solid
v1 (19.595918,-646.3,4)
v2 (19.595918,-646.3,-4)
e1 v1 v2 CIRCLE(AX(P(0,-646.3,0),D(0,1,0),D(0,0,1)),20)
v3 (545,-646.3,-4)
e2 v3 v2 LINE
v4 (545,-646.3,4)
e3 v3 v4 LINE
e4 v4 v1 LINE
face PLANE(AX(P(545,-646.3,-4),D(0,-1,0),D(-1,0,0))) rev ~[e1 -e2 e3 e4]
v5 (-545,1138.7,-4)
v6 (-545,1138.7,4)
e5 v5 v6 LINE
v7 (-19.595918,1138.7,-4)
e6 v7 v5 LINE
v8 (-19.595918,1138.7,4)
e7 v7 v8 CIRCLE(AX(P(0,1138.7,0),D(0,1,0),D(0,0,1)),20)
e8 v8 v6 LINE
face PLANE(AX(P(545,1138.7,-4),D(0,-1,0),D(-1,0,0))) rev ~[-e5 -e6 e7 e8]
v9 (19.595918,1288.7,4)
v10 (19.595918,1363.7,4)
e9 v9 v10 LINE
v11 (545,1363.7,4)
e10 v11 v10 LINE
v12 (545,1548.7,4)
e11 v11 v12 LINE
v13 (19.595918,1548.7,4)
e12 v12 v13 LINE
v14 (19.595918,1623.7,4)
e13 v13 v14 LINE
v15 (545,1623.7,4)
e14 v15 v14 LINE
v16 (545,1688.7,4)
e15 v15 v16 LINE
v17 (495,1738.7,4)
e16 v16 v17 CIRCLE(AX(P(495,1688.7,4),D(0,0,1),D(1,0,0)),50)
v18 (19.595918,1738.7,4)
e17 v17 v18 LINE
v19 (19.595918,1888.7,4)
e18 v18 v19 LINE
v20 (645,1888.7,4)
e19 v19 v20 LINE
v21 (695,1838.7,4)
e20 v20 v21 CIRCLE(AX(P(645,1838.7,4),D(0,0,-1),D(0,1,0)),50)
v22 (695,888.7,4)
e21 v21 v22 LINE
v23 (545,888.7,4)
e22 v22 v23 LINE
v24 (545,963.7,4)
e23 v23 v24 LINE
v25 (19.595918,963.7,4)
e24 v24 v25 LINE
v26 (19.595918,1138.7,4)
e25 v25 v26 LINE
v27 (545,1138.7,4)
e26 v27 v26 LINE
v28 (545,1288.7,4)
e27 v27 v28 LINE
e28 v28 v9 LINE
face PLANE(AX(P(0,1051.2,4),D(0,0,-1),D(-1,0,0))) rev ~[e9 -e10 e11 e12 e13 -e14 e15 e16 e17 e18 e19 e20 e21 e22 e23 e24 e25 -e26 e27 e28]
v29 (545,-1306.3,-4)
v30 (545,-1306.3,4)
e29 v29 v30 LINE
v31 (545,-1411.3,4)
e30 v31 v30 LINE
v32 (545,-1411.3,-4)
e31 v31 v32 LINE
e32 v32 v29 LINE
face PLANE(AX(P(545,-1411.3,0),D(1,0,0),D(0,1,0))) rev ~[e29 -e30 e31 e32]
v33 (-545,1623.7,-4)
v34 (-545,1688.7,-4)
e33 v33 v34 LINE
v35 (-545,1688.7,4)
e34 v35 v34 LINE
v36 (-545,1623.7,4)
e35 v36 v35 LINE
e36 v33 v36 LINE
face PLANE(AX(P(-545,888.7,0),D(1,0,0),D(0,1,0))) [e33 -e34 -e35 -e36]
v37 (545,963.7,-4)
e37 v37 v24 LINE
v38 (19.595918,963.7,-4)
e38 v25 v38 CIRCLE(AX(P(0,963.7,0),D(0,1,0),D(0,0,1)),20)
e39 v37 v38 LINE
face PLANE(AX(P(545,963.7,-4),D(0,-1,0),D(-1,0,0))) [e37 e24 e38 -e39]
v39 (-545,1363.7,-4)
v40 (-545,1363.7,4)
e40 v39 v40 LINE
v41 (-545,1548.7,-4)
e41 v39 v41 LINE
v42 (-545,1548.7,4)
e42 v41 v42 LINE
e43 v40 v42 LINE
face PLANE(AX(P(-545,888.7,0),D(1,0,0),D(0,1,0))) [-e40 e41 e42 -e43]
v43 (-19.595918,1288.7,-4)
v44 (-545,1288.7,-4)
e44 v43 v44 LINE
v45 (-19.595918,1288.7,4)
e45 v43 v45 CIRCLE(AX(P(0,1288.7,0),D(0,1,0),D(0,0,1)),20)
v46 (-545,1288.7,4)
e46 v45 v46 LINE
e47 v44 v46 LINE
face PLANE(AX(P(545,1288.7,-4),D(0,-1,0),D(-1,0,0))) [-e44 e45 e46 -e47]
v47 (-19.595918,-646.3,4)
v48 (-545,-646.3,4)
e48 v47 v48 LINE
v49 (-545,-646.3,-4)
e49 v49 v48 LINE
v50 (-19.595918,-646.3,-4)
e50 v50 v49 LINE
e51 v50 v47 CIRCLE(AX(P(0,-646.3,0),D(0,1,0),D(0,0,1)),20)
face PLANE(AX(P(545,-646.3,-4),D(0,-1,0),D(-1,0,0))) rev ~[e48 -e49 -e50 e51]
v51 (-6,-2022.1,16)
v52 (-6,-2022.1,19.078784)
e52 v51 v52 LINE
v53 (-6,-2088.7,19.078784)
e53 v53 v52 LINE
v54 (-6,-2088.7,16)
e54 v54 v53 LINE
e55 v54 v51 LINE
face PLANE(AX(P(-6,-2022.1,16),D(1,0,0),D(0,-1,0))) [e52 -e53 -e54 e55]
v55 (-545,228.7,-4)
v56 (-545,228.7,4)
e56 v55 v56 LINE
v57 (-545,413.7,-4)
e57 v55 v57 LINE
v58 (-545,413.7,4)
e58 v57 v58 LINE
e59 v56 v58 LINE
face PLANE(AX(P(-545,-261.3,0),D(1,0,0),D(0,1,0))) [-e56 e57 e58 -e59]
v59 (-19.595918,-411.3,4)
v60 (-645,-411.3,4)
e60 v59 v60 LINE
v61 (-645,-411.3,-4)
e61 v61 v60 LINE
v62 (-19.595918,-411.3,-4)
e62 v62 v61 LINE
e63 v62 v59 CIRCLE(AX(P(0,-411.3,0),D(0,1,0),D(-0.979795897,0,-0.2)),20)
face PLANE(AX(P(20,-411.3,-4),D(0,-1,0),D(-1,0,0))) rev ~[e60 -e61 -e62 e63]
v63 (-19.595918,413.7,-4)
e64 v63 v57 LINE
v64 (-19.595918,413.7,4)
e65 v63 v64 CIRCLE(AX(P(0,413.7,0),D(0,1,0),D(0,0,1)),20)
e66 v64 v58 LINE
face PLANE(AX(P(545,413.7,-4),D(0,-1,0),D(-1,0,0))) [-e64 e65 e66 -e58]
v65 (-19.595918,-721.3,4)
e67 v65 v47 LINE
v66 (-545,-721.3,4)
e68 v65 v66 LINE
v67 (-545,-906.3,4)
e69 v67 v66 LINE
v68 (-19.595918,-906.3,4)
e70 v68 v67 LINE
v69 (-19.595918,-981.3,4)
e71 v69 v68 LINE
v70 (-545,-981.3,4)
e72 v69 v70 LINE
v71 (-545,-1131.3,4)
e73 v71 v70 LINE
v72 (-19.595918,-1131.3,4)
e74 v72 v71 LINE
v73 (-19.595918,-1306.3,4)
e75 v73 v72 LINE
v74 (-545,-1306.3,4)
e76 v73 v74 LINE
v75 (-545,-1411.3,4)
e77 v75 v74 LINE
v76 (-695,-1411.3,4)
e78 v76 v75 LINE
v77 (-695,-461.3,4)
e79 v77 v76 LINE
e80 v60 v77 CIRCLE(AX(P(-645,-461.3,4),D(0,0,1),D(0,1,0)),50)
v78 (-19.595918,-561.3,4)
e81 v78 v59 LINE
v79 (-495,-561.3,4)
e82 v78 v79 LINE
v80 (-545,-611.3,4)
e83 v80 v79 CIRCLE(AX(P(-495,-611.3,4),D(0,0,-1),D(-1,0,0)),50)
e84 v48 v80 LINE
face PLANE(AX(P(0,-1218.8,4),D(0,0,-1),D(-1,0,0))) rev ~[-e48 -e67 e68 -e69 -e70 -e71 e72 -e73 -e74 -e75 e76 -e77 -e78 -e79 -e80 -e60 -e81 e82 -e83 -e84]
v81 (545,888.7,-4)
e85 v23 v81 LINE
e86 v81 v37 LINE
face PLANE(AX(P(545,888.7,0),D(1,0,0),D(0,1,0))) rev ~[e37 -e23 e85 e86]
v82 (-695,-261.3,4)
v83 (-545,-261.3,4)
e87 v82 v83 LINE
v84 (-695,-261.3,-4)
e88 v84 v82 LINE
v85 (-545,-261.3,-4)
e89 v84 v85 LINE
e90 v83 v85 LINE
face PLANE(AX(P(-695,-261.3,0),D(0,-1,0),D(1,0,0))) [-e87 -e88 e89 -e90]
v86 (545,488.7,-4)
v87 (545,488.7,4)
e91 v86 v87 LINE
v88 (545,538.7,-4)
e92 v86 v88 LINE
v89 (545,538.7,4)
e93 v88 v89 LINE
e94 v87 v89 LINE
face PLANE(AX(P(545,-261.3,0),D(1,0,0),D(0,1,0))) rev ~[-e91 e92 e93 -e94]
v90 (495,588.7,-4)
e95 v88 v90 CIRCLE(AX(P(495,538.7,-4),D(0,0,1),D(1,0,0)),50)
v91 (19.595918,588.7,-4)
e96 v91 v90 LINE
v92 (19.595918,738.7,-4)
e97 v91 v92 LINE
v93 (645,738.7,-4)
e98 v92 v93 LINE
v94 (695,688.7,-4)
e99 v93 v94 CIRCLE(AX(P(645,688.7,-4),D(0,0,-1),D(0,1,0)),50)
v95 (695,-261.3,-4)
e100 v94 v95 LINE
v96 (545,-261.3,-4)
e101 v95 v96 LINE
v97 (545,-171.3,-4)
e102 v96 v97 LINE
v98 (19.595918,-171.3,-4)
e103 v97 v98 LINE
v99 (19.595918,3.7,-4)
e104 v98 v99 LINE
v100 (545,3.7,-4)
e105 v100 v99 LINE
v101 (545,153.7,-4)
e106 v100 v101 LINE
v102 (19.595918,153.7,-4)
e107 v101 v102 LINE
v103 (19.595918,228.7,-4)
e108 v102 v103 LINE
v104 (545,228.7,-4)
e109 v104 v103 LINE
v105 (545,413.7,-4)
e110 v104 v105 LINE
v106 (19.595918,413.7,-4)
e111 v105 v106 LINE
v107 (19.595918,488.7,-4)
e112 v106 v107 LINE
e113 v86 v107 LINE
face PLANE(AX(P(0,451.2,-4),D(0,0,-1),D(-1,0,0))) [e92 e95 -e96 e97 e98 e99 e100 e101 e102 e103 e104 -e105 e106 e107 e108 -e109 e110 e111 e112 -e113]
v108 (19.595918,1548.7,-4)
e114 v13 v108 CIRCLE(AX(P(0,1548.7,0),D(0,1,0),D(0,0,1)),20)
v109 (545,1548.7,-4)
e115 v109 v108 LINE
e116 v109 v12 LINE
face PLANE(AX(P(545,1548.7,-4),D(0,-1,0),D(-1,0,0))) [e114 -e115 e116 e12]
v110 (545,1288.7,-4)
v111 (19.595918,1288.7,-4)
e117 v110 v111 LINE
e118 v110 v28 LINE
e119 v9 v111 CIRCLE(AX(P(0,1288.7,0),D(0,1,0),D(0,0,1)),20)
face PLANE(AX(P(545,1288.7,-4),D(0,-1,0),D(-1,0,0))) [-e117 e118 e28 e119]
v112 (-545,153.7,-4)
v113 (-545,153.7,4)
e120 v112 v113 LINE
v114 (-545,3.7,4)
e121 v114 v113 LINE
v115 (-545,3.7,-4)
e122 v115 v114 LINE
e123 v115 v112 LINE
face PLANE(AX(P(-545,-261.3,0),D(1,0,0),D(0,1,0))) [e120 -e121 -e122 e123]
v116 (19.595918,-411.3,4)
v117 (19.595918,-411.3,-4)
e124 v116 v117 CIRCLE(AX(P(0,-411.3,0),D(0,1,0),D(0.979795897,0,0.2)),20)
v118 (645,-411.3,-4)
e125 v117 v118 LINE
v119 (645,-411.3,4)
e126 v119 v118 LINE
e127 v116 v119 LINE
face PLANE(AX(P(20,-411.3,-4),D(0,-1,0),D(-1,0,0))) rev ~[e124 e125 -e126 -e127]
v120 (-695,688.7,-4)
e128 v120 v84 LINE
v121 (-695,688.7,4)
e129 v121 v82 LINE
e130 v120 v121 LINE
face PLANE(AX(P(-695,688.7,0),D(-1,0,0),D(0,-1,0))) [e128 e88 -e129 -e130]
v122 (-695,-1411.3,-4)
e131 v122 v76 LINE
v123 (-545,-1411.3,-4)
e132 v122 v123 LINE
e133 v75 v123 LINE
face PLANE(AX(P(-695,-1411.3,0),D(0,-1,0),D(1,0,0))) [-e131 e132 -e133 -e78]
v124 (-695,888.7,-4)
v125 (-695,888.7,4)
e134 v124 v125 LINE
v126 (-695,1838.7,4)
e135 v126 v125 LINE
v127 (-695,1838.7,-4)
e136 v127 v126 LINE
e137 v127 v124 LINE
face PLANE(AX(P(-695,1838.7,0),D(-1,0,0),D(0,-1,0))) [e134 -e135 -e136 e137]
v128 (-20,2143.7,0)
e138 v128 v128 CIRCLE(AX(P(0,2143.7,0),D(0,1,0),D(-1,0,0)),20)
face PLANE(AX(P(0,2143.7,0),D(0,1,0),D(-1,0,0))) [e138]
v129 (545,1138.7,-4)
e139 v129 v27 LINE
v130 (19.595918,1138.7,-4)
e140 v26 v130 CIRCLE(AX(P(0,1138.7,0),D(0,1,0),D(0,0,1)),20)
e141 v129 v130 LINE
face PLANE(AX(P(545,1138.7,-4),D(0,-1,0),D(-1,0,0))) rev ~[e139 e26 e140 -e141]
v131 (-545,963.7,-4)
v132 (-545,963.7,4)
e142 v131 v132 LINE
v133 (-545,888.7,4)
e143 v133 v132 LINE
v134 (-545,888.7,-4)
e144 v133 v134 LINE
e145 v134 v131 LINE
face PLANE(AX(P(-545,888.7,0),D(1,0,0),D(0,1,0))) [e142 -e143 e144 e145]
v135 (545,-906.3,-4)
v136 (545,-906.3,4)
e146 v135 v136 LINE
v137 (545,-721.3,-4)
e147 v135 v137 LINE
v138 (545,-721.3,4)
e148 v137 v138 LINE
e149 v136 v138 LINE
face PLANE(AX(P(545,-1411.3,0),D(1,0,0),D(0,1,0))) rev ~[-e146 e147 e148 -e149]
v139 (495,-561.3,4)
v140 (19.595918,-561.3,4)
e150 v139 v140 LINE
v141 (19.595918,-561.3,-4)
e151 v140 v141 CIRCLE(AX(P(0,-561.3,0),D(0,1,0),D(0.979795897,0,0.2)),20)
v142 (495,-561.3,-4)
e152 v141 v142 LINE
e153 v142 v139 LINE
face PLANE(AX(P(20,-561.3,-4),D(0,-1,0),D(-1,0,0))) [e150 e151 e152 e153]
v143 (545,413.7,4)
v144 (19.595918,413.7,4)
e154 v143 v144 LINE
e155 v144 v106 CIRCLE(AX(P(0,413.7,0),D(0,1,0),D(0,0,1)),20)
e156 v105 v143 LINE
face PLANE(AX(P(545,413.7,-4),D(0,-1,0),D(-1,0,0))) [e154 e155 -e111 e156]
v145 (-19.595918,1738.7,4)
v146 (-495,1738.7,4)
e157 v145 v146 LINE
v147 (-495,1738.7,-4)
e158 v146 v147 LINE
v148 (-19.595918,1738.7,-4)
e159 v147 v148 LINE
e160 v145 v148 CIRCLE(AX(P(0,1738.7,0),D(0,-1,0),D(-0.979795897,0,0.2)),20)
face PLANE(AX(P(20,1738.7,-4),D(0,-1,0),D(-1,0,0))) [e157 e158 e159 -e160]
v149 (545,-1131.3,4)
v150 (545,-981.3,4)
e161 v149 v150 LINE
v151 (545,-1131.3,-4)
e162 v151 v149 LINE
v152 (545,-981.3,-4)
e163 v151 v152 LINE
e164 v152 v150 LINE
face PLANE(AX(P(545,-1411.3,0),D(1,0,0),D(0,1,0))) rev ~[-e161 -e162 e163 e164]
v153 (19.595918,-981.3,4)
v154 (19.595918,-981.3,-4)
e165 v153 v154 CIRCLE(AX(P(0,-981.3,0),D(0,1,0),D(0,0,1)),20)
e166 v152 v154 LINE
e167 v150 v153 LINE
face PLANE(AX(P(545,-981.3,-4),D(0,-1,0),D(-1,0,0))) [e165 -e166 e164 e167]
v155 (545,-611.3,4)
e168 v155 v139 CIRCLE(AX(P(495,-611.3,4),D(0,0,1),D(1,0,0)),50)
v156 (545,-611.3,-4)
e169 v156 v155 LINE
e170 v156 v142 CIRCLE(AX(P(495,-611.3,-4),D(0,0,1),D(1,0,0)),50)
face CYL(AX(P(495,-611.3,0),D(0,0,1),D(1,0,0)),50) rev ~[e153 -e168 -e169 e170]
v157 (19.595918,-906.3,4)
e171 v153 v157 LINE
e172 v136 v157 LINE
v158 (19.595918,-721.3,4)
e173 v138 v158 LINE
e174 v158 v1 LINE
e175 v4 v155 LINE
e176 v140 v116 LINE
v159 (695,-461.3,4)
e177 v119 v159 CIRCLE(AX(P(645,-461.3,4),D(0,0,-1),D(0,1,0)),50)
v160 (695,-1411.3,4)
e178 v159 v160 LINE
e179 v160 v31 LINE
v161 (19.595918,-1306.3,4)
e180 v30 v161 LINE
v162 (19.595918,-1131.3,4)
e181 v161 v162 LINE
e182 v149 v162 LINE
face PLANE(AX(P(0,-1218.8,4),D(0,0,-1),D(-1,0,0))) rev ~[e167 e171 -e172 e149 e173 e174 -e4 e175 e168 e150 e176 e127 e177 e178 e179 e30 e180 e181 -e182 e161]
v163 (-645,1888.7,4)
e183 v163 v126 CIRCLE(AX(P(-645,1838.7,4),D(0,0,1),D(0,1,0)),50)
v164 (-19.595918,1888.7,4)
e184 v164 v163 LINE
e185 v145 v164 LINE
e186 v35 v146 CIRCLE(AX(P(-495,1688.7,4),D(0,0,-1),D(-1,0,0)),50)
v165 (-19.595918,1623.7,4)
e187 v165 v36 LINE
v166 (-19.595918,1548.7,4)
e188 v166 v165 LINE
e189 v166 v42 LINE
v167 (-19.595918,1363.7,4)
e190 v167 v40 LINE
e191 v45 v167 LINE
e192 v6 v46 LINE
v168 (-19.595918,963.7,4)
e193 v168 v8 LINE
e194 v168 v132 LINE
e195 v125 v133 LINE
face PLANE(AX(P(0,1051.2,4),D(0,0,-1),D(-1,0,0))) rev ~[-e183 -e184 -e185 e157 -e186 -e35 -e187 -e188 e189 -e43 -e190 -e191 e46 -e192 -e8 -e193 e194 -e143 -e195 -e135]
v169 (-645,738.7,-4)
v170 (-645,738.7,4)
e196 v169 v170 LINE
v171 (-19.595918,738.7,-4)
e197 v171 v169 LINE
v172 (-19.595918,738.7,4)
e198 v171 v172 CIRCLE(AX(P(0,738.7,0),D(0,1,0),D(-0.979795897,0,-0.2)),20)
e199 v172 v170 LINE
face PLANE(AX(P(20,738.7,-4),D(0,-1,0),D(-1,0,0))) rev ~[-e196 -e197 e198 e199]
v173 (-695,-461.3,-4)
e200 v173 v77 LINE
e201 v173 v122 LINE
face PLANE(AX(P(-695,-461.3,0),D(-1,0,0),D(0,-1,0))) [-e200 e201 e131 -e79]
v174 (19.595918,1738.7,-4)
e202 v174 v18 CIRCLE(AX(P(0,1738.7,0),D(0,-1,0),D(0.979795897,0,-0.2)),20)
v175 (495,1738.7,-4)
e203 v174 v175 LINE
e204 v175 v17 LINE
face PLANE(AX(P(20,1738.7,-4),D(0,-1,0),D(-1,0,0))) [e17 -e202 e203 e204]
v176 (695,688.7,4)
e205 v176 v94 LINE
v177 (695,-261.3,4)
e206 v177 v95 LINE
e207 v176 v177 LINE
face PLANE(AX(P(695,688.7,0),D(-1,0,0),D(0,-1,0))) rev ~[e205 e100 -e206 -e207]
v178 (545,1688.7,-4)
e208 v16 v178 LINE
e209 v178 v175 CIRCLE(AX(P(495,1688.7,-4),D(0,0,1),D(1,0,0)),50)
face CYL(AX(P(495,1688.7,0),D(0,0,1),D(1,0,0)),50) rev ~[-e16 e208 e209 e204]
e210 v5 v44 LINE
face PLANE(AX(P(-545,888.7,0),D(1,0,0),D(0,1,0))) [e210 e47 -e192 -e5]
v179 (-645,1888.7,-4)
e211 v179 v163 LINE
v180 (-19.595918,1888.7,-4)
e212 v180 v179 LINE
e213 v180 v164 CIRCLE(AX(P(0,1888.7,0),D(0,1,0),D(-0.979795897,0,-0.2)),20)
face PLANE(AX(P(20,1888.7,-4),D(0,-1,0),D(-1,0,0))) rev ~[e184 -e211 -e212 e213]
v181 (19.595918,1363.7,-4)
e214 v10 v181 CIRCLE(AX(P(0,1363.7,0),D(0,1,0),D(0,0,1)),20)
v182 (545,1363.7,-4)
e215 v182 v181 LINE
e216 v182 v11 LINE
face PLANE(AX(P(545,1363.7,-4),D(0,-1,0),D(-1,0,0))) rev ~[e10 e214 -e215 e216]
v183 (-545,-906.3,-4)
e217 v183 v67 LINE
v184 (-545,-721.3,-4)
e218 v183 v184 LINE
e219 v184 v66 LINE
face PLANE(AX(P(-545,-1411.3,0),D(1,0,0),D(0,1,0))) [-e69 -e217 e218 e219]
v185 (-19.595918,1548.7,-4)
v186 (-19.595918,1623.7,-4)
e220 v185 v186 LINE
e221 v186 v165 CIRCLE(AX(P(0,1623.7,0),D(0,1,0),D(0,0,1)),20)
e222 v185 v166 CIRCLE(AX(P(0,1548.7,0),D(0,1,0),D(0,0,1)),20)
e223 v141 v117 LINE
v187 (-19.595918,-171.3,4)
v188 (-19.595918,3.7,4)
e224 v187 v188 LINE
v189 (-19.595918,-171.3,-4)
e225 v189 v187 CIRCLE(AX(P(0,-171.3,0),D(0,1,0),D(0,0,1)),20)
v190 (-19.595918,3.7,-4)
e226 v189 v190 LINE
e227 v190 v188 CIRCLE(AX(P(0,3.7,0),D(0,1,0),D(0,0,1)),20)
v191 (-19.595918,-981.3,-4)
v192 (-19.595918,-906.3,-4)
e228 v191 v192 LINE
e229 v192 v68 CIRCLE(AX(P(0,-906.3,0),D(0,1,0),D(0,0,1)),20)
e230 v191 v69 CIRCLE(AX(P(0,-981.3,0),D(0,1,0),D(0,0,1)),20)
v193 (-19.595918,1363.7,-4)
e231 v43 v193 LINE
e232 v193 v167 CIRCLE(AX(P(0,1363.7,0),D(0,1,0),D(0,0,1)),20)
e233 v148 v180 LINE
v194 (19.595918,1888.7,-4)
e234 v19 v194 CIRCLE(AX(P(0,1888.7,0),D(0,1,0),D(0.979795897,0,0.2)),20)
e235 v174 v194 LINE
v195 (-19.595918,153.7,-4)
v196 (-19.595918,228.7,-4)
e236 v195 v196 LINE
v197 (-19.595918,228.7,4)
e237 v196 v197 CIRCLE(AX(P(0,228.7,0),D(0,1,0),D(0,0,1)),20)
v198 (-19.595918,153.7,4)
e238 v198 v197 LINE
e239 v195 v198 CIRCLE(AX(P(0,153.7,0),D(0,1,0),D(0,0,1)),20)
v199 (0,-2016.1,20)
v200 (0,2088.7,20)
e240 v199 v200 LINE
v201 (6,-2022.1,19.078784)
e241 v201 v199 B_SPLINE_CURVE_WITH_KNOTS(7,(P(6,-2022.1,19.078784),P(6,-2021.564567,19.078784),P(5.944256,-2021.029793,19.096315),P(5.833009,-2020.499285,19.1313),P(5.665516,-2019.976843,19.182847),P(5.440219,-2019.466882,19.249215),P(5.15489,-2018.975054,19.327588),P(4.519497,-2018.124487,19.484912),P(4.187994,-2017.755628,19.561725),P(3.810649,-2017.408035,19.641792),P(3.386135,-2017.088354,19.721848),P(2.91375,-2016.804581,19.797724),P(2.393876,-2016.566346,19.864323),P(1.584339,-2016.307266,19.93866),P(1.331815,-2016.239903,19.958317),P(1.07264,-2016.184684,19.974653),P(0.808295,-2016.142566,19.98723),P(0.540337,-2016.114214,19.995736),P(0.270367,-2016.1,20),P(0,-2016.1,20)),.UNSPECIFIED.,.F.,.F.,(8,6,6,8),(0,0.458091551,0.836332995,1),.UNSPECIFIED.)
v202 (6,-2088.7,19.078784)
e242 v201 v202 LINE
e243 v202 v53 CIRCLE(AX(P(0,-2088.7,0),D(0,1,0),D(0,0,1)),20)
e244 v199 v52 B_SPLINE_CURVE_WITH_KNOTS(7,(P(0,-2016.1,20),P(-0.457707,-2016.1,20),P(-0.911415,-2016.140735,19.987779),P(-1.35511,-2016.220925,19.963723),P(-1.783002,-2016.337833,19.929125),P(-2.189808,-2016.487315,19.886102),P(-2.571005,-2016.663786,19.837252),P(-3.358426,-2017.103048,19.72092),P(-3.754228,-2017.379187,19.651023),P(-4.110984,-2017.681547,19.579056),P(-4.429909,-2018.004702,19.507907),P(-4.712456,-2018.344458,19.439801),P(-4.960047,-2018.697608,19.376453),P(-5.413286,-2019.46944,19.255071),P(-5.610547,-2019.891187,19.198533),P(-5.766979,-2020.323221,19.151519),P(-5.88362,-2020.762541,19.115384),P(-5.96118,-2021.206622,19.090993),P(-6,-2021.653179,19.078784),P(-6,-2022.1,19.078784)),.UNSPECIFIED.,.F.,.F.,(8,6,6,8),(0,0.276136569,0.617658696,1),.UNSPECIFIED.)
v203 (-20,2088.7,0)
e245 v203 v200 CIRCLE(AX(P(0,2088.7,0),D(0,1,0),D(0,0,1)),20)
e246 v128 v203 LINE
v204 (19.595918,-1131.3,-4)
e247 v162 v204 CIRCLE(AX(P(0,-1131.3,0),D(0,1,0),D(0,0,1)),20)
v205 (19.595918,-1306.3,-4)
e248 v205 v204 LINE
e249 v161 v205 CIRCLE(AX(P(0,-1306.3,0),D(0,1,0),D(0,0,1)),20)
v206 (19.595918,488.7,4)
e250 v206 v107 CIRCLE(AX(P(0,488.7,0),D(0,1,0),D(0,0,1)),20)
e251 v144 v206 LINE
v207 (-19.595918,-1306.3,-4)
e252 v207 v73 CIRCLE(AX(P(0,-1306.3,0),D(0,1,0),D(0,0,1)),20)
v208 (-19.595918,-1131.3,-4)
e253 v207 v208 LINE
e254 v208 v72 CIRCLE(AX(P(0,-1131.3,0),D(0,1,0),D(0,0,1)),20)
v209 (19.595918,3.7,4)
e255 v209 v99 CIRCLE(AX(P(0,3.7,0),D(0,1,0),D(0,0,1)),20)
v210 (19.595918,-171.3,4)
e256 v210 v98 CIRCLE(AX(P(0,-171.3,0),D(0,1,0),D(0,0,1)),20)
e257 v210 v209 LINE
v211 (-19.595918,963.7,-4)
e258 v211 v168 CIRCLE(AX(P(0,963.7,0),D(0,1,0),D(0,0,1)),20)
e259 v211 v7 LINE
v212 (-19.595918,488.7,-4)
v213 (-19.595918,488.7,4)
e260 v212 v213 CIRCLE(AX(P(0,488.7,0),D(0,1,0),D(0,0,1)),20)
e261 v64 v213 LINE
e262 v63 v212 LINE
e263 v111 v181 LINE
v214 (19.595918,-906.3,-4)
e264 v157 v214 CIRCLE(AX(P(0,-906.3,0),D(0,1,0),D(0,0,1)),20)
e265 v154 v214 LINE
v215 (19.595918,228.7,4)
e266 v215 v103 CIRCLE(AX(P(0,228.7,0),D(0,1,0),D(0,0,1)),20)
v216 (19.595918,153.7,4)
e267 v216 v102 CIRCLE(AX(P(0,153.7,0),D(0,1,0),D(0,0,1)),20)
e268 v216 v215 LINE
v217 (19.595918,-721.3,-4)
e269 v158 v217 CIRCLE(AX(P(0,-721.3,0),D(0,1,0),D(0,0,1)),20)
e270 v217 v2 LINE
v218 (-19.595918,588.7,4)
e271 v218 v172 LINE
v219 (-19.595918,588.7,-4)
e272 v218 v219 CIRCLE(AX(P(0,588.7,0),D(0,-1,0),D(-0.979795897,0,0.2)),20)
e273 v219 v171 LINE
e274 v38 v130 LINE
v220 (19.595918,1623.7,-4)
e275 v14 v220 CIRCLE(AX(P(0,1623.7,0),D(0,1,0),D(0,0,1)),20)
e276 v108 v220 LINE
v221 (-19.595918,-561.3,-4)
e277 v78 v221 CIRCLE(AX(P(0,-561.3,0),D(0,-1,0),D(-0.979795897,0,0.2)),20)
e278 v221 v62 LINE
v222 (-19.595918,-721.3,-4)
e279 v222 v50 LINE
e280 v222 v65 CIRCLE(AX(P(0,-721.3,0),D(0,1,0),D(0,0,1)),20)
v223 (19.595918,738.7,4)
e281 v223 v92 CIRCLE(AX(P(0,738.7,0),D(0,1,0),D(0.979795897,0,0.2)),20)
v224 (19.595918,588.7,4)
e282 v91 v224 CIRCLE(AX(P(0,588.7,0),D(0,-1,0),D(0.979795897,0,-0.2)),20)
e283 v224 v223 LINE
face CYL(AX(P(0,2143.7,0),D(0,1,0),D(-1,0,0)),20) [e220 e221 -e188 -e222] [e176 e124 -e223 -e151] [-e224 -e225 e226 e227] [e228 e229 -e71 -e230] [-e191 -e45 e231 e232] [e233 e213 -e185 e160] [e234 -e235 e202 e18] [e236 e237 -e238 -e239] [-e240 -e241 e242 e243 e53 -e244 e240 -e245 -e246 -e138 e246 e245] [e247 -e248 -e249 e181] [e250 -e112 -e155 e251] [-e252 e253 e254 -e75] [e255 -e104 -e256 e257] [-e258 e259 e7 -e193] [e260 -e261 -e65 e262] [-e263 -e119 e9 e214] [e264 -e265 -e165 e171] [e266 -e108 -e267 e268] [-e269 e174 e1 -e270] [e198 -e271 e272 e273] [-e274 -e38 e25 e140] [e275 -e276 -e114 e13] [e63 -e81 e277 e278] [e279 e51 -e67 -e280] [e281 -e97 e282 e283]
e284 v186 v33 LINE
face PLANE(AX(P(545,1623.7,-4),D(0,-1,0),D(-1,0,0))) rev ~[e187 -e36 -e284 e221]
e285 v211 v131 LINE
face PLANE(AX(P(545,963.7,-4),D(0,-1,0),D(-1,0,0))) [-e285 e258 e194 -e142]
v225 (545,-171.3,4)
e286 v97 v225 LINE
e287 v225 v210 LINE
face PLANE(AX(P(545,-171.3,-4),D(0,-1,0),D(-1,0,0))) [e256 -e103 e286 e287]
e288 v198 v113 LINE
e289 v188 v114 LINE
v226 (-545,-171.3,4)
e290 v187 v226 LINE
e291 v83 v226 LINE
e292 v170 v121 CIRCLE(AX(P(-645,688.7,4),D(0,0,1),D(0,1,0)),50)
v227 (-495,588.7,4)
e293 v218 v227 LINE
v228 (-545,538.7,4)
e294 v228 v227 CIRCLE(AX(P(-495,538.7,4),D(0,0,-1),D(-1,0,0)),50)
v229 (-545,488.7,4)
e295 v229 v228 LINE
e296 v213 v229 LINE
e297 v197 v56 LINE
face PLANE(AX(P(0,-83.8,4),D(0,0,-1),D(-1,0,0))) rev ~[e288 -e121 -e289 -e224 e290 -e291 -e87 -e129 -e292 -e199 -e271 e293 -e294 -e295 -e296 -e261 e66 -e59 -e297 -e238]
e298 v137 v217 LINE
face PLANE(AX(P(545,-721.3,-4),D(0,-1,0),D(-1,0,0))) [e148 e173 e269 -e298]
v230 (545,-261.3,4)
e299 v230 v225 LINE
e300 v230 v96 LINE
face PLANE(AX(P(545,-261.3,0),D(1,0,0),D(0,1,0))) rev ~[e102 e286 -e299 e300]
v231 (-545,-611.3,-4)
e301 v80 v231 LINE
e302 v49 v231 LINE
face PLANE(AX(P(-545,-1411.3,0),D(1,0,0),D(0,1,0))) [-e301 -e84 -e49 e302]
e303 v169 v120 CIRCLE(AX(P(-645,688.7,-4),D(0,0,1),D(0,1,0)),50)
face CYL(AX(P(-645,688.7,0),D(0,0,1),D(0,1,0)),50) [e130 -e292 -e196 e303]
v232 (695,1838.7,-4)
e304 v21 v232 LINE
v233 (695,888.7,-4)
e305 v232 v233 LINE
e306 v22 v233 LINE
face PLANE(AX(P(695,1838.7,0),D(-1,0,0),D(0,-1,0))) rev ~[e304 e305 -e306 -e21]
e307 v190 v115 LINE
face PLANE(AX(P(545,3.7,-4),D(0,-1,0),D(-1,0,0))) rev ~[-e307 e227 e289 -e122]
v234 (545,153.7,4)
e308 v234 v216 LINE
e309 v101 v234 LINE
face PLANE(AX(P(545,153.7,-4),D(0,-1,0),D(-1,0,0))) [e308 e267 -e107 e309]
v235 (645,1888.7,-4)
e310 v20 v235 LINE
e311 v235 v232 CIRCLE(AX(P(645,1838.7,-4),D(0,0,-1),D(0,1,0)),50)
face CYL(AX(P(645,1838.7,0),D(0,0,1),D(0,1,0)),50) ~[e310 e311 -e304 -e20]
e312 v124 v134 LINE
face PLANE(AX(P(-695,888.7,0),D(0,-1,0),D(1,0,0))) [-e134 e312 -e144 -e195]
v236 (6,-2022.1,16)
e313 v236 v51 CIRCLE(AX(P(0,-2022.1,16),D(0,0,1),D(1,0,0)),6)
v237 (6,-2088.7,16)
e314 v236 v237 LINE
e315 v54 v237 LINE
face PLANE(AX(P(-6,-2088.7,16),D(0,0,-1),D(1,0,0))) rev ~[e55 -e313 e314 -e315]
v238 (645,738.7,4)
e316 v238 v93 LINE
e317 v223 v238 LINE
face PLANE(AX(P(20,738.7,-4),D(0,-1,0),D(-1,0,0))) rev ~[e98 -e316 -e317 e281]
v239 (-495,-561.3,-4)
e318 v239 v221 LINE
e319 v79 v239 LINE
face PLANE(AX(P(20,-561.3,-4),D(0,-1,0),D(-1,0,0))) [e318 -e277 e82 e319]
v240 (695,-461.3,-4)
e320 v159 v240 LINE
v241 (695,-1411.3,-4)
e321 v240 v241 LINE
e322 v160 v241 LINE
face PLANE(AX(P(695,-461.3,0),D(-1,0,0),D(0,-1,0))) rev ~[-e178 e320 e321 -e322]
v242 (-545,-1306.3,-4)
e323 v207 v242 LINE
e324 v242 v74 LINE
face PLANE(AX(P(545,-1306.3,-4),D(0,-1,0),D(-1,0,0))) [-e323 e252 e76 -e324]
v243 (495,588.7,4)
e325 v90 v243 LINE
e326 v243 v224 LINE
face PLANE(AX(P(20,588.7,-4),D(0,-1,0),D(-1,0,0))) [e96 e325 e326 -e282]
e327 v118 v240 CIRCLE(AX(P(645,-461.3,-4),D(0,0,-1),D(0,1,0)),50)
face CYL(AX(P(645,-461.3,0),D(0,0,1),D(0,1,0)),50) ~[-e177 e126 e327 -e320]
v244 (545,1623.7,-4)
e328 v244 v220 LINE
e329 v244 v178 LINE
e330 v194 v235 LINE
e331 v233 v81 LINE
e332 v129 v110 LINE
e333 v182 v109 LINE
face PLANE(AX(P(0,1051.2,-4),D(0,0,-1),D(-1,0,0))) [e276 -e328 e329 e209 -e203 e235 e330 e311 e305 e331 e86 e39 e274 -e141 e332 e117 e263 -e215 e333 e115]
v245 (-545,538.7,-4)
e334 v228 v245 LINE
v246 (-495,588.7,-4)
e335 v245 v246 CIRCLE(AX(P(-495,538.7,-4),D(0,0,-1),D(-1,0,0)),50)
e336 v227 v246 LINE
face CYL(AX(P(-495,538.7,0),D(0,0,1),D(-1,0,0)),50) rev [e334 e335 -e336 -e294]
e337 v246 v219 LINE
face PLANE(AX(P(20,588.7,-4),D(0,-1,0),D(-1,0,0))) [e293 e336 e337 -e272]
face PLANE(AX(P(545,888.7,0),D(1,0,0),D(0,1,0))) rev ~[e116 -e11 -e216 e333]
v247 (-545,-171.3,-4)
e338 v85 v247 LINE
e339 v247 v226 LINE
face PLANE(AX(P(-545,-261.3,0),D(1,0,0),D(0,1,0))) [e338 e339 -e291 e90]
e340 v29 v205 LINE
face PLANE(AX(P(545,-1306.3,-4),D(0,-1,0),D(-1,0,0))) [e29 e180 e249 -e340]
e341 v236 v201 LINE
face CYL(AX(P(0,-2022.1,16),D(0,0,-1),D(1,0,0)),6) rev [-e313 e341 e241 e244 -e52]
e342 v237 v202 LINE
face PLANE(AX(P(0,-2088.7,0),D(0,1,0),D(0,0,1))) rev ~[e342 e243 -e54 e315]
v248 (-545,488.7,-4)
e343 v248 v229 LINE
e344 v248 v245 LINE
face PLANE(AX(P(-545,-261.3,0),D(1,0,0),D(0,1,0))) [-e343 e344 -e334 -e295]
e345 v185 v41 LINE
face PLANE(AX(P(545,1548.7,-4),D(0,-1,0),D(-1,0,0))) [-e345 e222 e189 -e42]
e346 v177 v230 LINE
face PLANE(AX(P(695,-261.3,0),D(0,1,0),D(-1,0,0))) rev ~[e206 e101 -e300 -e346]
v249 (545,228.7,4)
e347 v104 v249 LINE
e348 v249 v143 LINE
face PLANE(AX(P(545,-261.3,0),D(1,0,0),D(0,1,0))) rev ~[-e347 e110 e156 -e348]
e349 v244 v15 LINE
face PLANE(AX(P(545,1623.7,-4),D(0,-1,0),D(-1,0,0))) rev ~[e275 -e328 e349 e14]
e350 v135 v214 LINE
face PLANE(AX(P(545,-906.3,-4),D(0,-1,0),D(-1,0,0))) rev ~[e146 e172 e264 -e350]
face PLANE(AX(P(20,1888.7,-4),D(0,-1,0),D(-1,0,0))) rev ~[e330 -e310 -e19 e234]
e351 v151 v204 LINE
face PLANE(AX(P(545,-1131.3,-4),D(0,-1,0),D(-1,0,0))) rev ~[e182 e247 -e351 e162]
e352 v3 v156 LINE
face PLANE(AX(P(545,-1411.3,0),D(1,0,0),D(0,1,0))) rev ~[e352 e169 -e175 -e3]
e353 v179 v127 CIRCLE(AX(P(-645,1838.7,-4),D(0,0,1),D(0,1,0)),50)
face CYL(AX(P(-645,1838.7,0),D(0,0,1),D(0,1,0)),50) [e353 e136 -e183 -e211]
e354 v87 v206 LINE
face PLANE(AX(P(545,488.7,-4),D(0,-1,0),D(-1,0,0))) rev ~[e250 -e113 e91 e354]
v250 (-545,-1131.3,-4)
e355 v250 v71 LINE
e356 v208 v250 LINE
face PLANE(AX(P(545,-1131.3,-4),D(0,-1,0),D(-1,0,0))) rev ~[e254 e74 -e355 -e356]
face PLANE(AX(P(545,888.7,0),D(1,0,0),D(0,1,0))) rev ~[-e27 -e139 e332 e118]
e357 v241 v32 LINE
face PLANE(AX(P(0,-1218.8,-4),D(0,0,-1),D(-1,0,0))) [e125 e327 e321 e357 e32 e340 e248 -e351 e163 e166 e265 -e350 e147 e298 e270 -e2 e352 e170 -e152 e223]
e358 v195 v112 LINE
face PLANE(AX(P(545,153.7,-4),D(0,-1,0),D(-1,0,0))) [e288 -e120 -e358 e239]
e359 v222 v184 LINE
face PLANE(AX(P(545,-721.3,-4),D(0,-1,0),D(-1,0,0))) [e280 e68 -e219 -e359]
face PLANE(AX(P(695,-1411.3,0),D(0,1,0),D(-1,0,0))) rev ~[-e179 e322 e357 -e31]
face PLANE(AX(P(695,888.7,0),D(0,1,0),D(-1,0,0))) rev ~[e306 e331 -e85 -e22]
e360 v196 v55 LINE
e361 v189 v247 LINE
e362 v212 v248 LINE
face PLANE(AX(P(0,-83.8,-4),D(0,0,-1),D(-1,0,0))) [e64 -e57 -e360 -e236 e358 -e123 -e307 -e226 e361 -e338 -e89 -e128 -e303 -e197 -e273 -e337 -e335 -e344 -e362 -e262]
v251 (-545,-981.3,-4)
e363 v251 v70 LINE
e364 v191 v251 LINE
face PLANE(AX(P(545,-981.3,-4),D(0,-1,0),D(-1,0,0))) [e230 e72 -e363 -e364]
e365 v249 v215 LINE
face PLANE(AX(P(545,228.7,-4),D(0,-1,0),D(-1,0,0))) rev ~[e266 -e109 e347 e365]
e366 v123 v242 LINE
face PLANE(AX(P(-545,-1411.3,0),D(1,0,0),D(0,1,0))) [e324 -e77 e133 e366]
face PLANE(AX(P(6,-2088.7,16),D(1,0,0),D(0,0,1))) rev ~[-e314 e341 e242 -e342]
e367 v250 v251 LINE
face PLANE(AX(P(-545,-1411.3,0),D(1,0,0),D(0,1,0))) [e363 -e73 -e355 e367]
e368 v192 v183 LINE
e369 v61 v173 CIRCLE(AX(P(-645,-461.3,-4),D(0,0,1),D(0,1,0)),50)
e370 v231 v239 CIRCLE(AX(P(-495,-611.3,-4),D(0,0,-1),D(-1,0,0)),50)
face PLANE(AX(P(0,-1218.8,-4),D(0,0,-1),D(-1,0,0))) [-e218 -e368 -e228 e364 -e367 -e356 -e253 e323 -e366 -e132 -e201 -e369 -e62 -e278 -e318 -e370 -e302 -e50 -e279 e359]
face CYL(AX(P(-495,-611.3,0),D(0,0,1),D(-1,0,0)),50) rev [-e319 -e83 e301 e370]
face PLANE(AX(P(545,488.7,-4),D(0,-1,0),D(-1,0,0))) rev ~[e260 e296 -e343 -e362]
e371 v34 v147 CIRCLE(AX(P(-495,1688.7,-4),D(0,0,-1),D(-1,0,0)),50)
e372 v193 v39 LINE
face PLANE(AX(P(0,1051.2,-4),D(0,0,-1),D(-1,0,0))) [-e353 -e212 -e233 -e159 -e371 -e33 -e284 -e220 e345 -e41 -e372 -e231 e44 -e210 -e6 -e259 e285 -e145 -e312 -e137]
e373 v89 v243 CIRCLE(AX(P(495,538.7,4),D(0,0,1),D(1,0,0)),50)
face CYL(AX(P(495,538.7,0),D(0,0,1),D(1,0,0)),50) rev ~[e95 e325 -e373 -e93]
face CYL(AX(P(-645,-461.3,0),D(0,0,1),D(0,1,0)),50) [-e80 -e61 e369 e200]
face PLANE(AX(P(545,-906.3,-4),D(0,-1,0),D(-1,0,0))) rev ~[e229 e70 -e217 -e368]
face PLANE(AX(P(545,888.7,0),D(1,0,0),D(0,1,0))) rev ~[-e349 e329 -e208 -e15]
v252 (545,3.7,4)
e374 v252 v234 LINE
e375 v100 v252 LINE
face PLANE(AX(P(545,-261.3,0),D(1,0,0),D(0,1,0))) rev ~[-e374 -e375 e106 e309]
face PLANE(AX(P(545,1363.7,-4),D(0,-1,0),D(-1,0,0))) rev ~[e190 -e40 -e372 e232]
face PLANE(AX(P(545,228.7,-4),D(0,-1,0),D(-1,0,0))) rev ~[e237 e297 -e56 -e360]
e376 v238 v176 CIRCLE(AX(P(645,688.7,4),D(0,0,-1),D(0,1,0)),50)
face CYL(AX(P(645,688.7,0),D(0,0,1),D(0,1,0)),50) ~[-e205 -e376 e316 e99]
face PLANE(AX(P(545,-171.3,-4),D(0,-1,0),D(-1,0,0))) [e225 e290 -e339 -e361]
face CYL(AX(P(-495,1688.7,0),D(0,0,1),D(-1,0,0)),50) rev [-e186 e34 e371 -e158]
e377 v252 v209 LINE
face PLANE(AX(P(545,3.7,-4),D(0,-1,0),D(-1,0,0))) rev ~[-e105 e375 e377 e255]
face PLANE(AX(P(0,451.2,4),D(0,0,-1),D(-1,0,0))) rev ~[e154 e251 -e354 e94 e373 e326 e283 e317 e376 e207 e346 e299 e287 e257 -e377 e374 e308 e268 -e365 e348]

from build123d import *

# Parameters (mm, degrees)
IZIM1_R                       = 20
Y_KSEKLIK_EKSTR_ZYON1_DEPTH   = 2088.7
IZIM2_W                       = 12
IZIM2_H                       = 8
KES_EKSTR_ZYON1_DEPTH         = 64.2
KES_EKSTR_ZYON4_DEPTH         = 3.08
KES_EKSTR_ZYON4_DEPTH_BACK    = 3.08
Y_KSEKLIK_EKSTR_ZYON2_DEPTH   = 4
Y_KSEKLIK_EKSTR_ZYON2_2_DEPTH = 4
Y_KSEKLIK_EKSTR_ZYON2_3_DEPTH = 4
Y_KSEKLIK_EKSTR_ZYON2_4_DEPTH = 4
Y_KSEKLIK_EKSTR_ZYON2_5_DEPTH = 4
Y_KSEKLIK_EKSTR_ZYON2_6_DEPTH = 4
IZIM5_W                       = 40
IZIM5_H                       = 150
Y_KSEKLIK_EKSTR_ZYON3_DEPTH   = 8
IZIM6_W                       = 1090
IZIM6_H                       = 75
IZIM6_H_2                     = 175
Y_KSEKLIK_EKSTR_ZYON4_DEPTH   = 8
Y_KSEKLIK_EKSTR_ZYON5_START   = 55
IZIM7_R                       = 20
Y_KSEKLIK_EKSTR_ZYON5_DEPTH   = 55


with BuildPart() as part:
    # Çizim1 → Yükseklik-Ekstrüzyon1 (new, symmetric)
    with BuildSketch(Plane(origin=(0, 0, 0), x_dir=(1, 0, 0), z_dir=(0, 1, 0))):
        Circle(IZIM1_R)
    extrude(amount=Y_KSEKLIK_EKSTR_ZYON1_DEPTH, both=True)

    # Çizim2 → Kes-Ekstrüzyon1 (cut)
    with BuildSketch(Plane.XZ.offset(2088.7)):
        with Locations((0, 20)):
            Rectangle(IZIM2_W, IZIM2_H)
    extrude(amount=-KES_EKSTR_ZYON1_DEPTH, mode=Mode.SUBTRACT)

    # Çizim3 → Kes-Ekstrüzyon4 (cut, two sides: drawn at the far end of the back side and taken through both)
    with BuildSketch(Plane.XY.offset(19.08).offset(-KES_EKSTR_ZYON4_DEPTH_BACK)):
        with BuildLine():
            Line((6, -2024.5), (6, -2022.1))
            ThreePointArc((6, -2022.1), (0, -2016.1), (-6, -2022.1))
            Line((-6, -2022.1), (-6, -2024.5))
            Line((-6, -2024.5), (6, -2024.5))
        make_face()
    extrude(amount=KES_EKSTR_ZYON4_DEPTH + KES_EKSTR_ZYON4_DEPTH_BACK, mode=Mode.SUBTRACT)



with BuildPart() as body_2:
    # Çizim4 → Yükseklik-Ekstrüzyon2 (new, symmetric)
    with BuildSketch(Plane.XY):
        with BuildLine():
            Line((20, 1888.7), (645, 1888.7))
            ThreePointArc((645, 1888.7), (680.355339059, 1874.055339059), (695, 1838.7))
            Line((695, 1838.7), (695, 888.7))
            Line((695, 888.7), (545, 888.7))
            Line((545, 888.7), (545, 1688.7))
            ThreePointArc((545, 1688.7), (530.355339059, 1724.055339059), (495, 1738.7))
            Line((495, 1738.7), (20, 1738.7))
            Line((20, 1738.7), (20, 1888.7))
        make_face()
    extrude(amount=Y_KSEKLIK_EKSTR_ZYON2_DEPTH, both=True)


with BuildPart() as body_3:
    # Çizim4 → Y_kseklik-Ekstr_zyon2 2 (new, symmetric)
    with BuildSketch(Plane.XY):
        with BuildLine():
            Line((-495, 1738.7), (-20, 1738.7))
            Line((-20, 1738.7), (-20, 1888.7))
            Line((-20, 1888.7), (-645, 1888.7))
            ThreePointArc((-645, 1888.7), (-680.355339059, 1874.055339059), (-695, 1838.7))
            Line((-695, 1838.7), (-695, 888.7))
            Line((-695, 888.7), (-545, 888.7))
            Line((-545, 888.7), (-545, 1688.7))
            ThreePointArc((-545, 1688.7), (-530.355339059, 1724.055339059), (-495, 1738.7))
        make_face()
    extrude(amount=Y_KSEKLIK_EKSTR_ZYON2_2_DEPTH, both=True)


with BuildPart() as body_4:
    # Çizim4 → Y_kseklik-Ekstr_zyon2 3 (new, symmetric)
    with BuildSketch(Plane.XY):
        with BuildLine():
            Line((20, 588.7), (20, 738.7))
            Line((20, 738.7), (645, 738.7))
            ThreePointArc((645, 738.7), (680.355339059, 724.055339059), (695, 688.7))
            Line((695, 688.7), (695, -261.3))
            Line((695, -261.3), (545, -261.3))
            Line((545, -261.3), (545, 538.7))
            ThreePointArc((545, 538.7), (530.355339059, 574.055339059), (495, 588.7))
            Line((495, 588.7), (20, 588.7))
        make_face()
    extrude(amount=Y_KSEKLIK_EKSTR_ZYON2_3_DEPTH, both=True)


with BuildPart() as body_5:
    # Çizim4 → Y_kseklik-Ekstr_zyon2 4 (new, symmetric)
    with BuildSketch(Plane.XY):
        with BuildLine():
            Line((-495, 588.7), (-20, 588.7))
            Line((-20, 588.7), (-20, 738.7))
            Line((-20, 738.7), (-645, 738.7))
            ThreePointArc((-645, 738.7), (-680.355339059, 724.055339059), (-695, 688.7))
            Line((-695, 688.7), (-695, -261.3))
            Line((-695, -261.3), (-545, -261.3))
            Line((-545, -261.3), (-545, 538.7))
            ThreePointArc((-545, 538.7), (-530.355339059, 574.055339059), (-495, 588.7))
        make_face()
    extrude(amount=Y_KSEKLIK_EKSTR_ZYON2_4_DEPTH, both=True)


with BuildPart() as body_6:
    # Çizim4 → Y_kseklik-Ekstr_zyon2 5 (new, symmetric)
    with BuildSketch(Plane.XY):
        with BuildLine():
            Line((20, -561.3), (20, -411.3))
            Line((20, -411.3), (645, -411.3))
            ThreePointArc((645, -411.3), (680.355339059, -425.944660941), (695, -461.3))
            Line((695, -461.3), (695, -1411.3))
            Line((695, -1411.3), (545, -1411.3))
            Line((545, -1411.3), (545, -611.3))
            ThreePointArc((545, -611.3), (530.355339059, -575.944660941), (495, -561.3))
            Line((495, -561.3), (20, -561.3))
        make_face()
    extrude(amount=Y_KSEKLIK_EKSTR_ZYON2_5_DEPTH, both=True)


with BuildPart() as body_7:
    # Çizim4 → Y_kseklik-Ekstr_zyon2 6 (new, symmetric)
    with BuildSketch(Plane.XY):
        with BuildLine():
            Line((-495, -561.3), (-20, -561.3))
            Line((-20, -561.3), (-20, -411.3))
            Line((-20, -411.3), (-645, -411.3))
            ThreePointArc((-645, -411.3), (-680.355339059, -425.944660941), (-695, -461.3))
            Line((-695, -461.3), (-695, -1411.3))
            Line((-695, -1411.3), (-545, -1411.3))
            Line((-545, -1411.3), (-545, -611.3))
            ThreePointArc((-545, -611.3), (-530.355339059, -575.944660941), (-495, -561.3))
        make_face()
    extrude(amount=Y_KSEKLIK_EKSTR_ZYON2_6_DEPTH, both=True)


with BuildPart() as part_1:
    add(part.part)

    add(body_2.part)  # Yükseklik-Ekstrüzyon3 merges body 2

    add(body_3.part)  # Yükseklik-Ekstrüzyon3 merges body 3

    add(body_4.part)  # Yükseklik-Ekstrüzyon3 merges body 4

    add(body_5.part)  # Yükseklik-Ekstrüzyon3 merges body 5

    add(body_6.part)  # Yükseklik-Ekstrüzyon3 merges body 6

    add(body_7.part)  # Yükseklik-Ekstrüzyon3 merges body 7
    # Çizim5 → Yükseklik-Ekstrüzyon3 (add)
    with BuildSketch(Plane(origin=(0, 0, -4), x_dir=(-1, 0, 0), z_dir=(0, 0, -1))):
        with Locations((0, -486.3)):
            Rectangle(IZIM5_W, IZIM5_H)
        with Locations((0, 663.7)):
            Rectangle(IZIM5_W, IZIM5_H)
        with Locations((0, 1813.7)):
            Rectangle(IZIM5_W, IZIM5_H)
    extrude(amount=-Y_KSEKLIK_EKSTR_ZYON3_DEPTH)

    # Çizim6 → Yükseklik-Ekstrüzyon4 (add)
    with BuildSketch(Plane(origin=(0, 0, -4), x_dir=(-1, 0, 0), z_dir=(0, 0, -1))):
        with Locations((0, 451.2)):
            Rectangle(IZIM6_W, IZIM6_H)
        with Locations((0, 191.2)):
            Rectangle(IZIM6_W, IZIM6_H)
        with Locations((0, -83.8)):
            Rectangle(IZIM6_W, IZIM6_H_2)
        with Locations((0, 1051.2)):
            Rectangle(IZIM6_W, IZIM6_H_2)
        with Locations((0, 1326.2)):
            Rectangle(IZIM6_W, IZIM6_H)
        with Locations((0, 1586.2)):
            Rectangle(IZIM6_W, IZIM6_H)
        with Locations((0, -1218.8)):
            Rectangle(IZIM6_W, IZIM6_H_2)
        with Locations((0, -943.8)):
            Rectangle(IZIM6_W, IZIM6_H)
        with Locations((0, -683.8)):
            Rectangle(IZIM6_W, IZIM6_H)
    extrude(amount=-Y_KSEKLIK_EKSTR_ZYON4_DEPTH)

    # Çizim7 → Yükseklik-Ekstrüzyon5 (add)
    with BuildSketch(Plane(origin=(0, 2088.7, 0), x_dir=(1, 0, 0), z_dir=(0, 1, 0)).offset(Y_KSEKLIK_EKSTR_ZYON5_START)):
        Circle(IZIM7_R)
    extrude(amount=-Y_KSEKLIK_EKSTR_ZYON5_DEPTH)


solid = part_1.part
